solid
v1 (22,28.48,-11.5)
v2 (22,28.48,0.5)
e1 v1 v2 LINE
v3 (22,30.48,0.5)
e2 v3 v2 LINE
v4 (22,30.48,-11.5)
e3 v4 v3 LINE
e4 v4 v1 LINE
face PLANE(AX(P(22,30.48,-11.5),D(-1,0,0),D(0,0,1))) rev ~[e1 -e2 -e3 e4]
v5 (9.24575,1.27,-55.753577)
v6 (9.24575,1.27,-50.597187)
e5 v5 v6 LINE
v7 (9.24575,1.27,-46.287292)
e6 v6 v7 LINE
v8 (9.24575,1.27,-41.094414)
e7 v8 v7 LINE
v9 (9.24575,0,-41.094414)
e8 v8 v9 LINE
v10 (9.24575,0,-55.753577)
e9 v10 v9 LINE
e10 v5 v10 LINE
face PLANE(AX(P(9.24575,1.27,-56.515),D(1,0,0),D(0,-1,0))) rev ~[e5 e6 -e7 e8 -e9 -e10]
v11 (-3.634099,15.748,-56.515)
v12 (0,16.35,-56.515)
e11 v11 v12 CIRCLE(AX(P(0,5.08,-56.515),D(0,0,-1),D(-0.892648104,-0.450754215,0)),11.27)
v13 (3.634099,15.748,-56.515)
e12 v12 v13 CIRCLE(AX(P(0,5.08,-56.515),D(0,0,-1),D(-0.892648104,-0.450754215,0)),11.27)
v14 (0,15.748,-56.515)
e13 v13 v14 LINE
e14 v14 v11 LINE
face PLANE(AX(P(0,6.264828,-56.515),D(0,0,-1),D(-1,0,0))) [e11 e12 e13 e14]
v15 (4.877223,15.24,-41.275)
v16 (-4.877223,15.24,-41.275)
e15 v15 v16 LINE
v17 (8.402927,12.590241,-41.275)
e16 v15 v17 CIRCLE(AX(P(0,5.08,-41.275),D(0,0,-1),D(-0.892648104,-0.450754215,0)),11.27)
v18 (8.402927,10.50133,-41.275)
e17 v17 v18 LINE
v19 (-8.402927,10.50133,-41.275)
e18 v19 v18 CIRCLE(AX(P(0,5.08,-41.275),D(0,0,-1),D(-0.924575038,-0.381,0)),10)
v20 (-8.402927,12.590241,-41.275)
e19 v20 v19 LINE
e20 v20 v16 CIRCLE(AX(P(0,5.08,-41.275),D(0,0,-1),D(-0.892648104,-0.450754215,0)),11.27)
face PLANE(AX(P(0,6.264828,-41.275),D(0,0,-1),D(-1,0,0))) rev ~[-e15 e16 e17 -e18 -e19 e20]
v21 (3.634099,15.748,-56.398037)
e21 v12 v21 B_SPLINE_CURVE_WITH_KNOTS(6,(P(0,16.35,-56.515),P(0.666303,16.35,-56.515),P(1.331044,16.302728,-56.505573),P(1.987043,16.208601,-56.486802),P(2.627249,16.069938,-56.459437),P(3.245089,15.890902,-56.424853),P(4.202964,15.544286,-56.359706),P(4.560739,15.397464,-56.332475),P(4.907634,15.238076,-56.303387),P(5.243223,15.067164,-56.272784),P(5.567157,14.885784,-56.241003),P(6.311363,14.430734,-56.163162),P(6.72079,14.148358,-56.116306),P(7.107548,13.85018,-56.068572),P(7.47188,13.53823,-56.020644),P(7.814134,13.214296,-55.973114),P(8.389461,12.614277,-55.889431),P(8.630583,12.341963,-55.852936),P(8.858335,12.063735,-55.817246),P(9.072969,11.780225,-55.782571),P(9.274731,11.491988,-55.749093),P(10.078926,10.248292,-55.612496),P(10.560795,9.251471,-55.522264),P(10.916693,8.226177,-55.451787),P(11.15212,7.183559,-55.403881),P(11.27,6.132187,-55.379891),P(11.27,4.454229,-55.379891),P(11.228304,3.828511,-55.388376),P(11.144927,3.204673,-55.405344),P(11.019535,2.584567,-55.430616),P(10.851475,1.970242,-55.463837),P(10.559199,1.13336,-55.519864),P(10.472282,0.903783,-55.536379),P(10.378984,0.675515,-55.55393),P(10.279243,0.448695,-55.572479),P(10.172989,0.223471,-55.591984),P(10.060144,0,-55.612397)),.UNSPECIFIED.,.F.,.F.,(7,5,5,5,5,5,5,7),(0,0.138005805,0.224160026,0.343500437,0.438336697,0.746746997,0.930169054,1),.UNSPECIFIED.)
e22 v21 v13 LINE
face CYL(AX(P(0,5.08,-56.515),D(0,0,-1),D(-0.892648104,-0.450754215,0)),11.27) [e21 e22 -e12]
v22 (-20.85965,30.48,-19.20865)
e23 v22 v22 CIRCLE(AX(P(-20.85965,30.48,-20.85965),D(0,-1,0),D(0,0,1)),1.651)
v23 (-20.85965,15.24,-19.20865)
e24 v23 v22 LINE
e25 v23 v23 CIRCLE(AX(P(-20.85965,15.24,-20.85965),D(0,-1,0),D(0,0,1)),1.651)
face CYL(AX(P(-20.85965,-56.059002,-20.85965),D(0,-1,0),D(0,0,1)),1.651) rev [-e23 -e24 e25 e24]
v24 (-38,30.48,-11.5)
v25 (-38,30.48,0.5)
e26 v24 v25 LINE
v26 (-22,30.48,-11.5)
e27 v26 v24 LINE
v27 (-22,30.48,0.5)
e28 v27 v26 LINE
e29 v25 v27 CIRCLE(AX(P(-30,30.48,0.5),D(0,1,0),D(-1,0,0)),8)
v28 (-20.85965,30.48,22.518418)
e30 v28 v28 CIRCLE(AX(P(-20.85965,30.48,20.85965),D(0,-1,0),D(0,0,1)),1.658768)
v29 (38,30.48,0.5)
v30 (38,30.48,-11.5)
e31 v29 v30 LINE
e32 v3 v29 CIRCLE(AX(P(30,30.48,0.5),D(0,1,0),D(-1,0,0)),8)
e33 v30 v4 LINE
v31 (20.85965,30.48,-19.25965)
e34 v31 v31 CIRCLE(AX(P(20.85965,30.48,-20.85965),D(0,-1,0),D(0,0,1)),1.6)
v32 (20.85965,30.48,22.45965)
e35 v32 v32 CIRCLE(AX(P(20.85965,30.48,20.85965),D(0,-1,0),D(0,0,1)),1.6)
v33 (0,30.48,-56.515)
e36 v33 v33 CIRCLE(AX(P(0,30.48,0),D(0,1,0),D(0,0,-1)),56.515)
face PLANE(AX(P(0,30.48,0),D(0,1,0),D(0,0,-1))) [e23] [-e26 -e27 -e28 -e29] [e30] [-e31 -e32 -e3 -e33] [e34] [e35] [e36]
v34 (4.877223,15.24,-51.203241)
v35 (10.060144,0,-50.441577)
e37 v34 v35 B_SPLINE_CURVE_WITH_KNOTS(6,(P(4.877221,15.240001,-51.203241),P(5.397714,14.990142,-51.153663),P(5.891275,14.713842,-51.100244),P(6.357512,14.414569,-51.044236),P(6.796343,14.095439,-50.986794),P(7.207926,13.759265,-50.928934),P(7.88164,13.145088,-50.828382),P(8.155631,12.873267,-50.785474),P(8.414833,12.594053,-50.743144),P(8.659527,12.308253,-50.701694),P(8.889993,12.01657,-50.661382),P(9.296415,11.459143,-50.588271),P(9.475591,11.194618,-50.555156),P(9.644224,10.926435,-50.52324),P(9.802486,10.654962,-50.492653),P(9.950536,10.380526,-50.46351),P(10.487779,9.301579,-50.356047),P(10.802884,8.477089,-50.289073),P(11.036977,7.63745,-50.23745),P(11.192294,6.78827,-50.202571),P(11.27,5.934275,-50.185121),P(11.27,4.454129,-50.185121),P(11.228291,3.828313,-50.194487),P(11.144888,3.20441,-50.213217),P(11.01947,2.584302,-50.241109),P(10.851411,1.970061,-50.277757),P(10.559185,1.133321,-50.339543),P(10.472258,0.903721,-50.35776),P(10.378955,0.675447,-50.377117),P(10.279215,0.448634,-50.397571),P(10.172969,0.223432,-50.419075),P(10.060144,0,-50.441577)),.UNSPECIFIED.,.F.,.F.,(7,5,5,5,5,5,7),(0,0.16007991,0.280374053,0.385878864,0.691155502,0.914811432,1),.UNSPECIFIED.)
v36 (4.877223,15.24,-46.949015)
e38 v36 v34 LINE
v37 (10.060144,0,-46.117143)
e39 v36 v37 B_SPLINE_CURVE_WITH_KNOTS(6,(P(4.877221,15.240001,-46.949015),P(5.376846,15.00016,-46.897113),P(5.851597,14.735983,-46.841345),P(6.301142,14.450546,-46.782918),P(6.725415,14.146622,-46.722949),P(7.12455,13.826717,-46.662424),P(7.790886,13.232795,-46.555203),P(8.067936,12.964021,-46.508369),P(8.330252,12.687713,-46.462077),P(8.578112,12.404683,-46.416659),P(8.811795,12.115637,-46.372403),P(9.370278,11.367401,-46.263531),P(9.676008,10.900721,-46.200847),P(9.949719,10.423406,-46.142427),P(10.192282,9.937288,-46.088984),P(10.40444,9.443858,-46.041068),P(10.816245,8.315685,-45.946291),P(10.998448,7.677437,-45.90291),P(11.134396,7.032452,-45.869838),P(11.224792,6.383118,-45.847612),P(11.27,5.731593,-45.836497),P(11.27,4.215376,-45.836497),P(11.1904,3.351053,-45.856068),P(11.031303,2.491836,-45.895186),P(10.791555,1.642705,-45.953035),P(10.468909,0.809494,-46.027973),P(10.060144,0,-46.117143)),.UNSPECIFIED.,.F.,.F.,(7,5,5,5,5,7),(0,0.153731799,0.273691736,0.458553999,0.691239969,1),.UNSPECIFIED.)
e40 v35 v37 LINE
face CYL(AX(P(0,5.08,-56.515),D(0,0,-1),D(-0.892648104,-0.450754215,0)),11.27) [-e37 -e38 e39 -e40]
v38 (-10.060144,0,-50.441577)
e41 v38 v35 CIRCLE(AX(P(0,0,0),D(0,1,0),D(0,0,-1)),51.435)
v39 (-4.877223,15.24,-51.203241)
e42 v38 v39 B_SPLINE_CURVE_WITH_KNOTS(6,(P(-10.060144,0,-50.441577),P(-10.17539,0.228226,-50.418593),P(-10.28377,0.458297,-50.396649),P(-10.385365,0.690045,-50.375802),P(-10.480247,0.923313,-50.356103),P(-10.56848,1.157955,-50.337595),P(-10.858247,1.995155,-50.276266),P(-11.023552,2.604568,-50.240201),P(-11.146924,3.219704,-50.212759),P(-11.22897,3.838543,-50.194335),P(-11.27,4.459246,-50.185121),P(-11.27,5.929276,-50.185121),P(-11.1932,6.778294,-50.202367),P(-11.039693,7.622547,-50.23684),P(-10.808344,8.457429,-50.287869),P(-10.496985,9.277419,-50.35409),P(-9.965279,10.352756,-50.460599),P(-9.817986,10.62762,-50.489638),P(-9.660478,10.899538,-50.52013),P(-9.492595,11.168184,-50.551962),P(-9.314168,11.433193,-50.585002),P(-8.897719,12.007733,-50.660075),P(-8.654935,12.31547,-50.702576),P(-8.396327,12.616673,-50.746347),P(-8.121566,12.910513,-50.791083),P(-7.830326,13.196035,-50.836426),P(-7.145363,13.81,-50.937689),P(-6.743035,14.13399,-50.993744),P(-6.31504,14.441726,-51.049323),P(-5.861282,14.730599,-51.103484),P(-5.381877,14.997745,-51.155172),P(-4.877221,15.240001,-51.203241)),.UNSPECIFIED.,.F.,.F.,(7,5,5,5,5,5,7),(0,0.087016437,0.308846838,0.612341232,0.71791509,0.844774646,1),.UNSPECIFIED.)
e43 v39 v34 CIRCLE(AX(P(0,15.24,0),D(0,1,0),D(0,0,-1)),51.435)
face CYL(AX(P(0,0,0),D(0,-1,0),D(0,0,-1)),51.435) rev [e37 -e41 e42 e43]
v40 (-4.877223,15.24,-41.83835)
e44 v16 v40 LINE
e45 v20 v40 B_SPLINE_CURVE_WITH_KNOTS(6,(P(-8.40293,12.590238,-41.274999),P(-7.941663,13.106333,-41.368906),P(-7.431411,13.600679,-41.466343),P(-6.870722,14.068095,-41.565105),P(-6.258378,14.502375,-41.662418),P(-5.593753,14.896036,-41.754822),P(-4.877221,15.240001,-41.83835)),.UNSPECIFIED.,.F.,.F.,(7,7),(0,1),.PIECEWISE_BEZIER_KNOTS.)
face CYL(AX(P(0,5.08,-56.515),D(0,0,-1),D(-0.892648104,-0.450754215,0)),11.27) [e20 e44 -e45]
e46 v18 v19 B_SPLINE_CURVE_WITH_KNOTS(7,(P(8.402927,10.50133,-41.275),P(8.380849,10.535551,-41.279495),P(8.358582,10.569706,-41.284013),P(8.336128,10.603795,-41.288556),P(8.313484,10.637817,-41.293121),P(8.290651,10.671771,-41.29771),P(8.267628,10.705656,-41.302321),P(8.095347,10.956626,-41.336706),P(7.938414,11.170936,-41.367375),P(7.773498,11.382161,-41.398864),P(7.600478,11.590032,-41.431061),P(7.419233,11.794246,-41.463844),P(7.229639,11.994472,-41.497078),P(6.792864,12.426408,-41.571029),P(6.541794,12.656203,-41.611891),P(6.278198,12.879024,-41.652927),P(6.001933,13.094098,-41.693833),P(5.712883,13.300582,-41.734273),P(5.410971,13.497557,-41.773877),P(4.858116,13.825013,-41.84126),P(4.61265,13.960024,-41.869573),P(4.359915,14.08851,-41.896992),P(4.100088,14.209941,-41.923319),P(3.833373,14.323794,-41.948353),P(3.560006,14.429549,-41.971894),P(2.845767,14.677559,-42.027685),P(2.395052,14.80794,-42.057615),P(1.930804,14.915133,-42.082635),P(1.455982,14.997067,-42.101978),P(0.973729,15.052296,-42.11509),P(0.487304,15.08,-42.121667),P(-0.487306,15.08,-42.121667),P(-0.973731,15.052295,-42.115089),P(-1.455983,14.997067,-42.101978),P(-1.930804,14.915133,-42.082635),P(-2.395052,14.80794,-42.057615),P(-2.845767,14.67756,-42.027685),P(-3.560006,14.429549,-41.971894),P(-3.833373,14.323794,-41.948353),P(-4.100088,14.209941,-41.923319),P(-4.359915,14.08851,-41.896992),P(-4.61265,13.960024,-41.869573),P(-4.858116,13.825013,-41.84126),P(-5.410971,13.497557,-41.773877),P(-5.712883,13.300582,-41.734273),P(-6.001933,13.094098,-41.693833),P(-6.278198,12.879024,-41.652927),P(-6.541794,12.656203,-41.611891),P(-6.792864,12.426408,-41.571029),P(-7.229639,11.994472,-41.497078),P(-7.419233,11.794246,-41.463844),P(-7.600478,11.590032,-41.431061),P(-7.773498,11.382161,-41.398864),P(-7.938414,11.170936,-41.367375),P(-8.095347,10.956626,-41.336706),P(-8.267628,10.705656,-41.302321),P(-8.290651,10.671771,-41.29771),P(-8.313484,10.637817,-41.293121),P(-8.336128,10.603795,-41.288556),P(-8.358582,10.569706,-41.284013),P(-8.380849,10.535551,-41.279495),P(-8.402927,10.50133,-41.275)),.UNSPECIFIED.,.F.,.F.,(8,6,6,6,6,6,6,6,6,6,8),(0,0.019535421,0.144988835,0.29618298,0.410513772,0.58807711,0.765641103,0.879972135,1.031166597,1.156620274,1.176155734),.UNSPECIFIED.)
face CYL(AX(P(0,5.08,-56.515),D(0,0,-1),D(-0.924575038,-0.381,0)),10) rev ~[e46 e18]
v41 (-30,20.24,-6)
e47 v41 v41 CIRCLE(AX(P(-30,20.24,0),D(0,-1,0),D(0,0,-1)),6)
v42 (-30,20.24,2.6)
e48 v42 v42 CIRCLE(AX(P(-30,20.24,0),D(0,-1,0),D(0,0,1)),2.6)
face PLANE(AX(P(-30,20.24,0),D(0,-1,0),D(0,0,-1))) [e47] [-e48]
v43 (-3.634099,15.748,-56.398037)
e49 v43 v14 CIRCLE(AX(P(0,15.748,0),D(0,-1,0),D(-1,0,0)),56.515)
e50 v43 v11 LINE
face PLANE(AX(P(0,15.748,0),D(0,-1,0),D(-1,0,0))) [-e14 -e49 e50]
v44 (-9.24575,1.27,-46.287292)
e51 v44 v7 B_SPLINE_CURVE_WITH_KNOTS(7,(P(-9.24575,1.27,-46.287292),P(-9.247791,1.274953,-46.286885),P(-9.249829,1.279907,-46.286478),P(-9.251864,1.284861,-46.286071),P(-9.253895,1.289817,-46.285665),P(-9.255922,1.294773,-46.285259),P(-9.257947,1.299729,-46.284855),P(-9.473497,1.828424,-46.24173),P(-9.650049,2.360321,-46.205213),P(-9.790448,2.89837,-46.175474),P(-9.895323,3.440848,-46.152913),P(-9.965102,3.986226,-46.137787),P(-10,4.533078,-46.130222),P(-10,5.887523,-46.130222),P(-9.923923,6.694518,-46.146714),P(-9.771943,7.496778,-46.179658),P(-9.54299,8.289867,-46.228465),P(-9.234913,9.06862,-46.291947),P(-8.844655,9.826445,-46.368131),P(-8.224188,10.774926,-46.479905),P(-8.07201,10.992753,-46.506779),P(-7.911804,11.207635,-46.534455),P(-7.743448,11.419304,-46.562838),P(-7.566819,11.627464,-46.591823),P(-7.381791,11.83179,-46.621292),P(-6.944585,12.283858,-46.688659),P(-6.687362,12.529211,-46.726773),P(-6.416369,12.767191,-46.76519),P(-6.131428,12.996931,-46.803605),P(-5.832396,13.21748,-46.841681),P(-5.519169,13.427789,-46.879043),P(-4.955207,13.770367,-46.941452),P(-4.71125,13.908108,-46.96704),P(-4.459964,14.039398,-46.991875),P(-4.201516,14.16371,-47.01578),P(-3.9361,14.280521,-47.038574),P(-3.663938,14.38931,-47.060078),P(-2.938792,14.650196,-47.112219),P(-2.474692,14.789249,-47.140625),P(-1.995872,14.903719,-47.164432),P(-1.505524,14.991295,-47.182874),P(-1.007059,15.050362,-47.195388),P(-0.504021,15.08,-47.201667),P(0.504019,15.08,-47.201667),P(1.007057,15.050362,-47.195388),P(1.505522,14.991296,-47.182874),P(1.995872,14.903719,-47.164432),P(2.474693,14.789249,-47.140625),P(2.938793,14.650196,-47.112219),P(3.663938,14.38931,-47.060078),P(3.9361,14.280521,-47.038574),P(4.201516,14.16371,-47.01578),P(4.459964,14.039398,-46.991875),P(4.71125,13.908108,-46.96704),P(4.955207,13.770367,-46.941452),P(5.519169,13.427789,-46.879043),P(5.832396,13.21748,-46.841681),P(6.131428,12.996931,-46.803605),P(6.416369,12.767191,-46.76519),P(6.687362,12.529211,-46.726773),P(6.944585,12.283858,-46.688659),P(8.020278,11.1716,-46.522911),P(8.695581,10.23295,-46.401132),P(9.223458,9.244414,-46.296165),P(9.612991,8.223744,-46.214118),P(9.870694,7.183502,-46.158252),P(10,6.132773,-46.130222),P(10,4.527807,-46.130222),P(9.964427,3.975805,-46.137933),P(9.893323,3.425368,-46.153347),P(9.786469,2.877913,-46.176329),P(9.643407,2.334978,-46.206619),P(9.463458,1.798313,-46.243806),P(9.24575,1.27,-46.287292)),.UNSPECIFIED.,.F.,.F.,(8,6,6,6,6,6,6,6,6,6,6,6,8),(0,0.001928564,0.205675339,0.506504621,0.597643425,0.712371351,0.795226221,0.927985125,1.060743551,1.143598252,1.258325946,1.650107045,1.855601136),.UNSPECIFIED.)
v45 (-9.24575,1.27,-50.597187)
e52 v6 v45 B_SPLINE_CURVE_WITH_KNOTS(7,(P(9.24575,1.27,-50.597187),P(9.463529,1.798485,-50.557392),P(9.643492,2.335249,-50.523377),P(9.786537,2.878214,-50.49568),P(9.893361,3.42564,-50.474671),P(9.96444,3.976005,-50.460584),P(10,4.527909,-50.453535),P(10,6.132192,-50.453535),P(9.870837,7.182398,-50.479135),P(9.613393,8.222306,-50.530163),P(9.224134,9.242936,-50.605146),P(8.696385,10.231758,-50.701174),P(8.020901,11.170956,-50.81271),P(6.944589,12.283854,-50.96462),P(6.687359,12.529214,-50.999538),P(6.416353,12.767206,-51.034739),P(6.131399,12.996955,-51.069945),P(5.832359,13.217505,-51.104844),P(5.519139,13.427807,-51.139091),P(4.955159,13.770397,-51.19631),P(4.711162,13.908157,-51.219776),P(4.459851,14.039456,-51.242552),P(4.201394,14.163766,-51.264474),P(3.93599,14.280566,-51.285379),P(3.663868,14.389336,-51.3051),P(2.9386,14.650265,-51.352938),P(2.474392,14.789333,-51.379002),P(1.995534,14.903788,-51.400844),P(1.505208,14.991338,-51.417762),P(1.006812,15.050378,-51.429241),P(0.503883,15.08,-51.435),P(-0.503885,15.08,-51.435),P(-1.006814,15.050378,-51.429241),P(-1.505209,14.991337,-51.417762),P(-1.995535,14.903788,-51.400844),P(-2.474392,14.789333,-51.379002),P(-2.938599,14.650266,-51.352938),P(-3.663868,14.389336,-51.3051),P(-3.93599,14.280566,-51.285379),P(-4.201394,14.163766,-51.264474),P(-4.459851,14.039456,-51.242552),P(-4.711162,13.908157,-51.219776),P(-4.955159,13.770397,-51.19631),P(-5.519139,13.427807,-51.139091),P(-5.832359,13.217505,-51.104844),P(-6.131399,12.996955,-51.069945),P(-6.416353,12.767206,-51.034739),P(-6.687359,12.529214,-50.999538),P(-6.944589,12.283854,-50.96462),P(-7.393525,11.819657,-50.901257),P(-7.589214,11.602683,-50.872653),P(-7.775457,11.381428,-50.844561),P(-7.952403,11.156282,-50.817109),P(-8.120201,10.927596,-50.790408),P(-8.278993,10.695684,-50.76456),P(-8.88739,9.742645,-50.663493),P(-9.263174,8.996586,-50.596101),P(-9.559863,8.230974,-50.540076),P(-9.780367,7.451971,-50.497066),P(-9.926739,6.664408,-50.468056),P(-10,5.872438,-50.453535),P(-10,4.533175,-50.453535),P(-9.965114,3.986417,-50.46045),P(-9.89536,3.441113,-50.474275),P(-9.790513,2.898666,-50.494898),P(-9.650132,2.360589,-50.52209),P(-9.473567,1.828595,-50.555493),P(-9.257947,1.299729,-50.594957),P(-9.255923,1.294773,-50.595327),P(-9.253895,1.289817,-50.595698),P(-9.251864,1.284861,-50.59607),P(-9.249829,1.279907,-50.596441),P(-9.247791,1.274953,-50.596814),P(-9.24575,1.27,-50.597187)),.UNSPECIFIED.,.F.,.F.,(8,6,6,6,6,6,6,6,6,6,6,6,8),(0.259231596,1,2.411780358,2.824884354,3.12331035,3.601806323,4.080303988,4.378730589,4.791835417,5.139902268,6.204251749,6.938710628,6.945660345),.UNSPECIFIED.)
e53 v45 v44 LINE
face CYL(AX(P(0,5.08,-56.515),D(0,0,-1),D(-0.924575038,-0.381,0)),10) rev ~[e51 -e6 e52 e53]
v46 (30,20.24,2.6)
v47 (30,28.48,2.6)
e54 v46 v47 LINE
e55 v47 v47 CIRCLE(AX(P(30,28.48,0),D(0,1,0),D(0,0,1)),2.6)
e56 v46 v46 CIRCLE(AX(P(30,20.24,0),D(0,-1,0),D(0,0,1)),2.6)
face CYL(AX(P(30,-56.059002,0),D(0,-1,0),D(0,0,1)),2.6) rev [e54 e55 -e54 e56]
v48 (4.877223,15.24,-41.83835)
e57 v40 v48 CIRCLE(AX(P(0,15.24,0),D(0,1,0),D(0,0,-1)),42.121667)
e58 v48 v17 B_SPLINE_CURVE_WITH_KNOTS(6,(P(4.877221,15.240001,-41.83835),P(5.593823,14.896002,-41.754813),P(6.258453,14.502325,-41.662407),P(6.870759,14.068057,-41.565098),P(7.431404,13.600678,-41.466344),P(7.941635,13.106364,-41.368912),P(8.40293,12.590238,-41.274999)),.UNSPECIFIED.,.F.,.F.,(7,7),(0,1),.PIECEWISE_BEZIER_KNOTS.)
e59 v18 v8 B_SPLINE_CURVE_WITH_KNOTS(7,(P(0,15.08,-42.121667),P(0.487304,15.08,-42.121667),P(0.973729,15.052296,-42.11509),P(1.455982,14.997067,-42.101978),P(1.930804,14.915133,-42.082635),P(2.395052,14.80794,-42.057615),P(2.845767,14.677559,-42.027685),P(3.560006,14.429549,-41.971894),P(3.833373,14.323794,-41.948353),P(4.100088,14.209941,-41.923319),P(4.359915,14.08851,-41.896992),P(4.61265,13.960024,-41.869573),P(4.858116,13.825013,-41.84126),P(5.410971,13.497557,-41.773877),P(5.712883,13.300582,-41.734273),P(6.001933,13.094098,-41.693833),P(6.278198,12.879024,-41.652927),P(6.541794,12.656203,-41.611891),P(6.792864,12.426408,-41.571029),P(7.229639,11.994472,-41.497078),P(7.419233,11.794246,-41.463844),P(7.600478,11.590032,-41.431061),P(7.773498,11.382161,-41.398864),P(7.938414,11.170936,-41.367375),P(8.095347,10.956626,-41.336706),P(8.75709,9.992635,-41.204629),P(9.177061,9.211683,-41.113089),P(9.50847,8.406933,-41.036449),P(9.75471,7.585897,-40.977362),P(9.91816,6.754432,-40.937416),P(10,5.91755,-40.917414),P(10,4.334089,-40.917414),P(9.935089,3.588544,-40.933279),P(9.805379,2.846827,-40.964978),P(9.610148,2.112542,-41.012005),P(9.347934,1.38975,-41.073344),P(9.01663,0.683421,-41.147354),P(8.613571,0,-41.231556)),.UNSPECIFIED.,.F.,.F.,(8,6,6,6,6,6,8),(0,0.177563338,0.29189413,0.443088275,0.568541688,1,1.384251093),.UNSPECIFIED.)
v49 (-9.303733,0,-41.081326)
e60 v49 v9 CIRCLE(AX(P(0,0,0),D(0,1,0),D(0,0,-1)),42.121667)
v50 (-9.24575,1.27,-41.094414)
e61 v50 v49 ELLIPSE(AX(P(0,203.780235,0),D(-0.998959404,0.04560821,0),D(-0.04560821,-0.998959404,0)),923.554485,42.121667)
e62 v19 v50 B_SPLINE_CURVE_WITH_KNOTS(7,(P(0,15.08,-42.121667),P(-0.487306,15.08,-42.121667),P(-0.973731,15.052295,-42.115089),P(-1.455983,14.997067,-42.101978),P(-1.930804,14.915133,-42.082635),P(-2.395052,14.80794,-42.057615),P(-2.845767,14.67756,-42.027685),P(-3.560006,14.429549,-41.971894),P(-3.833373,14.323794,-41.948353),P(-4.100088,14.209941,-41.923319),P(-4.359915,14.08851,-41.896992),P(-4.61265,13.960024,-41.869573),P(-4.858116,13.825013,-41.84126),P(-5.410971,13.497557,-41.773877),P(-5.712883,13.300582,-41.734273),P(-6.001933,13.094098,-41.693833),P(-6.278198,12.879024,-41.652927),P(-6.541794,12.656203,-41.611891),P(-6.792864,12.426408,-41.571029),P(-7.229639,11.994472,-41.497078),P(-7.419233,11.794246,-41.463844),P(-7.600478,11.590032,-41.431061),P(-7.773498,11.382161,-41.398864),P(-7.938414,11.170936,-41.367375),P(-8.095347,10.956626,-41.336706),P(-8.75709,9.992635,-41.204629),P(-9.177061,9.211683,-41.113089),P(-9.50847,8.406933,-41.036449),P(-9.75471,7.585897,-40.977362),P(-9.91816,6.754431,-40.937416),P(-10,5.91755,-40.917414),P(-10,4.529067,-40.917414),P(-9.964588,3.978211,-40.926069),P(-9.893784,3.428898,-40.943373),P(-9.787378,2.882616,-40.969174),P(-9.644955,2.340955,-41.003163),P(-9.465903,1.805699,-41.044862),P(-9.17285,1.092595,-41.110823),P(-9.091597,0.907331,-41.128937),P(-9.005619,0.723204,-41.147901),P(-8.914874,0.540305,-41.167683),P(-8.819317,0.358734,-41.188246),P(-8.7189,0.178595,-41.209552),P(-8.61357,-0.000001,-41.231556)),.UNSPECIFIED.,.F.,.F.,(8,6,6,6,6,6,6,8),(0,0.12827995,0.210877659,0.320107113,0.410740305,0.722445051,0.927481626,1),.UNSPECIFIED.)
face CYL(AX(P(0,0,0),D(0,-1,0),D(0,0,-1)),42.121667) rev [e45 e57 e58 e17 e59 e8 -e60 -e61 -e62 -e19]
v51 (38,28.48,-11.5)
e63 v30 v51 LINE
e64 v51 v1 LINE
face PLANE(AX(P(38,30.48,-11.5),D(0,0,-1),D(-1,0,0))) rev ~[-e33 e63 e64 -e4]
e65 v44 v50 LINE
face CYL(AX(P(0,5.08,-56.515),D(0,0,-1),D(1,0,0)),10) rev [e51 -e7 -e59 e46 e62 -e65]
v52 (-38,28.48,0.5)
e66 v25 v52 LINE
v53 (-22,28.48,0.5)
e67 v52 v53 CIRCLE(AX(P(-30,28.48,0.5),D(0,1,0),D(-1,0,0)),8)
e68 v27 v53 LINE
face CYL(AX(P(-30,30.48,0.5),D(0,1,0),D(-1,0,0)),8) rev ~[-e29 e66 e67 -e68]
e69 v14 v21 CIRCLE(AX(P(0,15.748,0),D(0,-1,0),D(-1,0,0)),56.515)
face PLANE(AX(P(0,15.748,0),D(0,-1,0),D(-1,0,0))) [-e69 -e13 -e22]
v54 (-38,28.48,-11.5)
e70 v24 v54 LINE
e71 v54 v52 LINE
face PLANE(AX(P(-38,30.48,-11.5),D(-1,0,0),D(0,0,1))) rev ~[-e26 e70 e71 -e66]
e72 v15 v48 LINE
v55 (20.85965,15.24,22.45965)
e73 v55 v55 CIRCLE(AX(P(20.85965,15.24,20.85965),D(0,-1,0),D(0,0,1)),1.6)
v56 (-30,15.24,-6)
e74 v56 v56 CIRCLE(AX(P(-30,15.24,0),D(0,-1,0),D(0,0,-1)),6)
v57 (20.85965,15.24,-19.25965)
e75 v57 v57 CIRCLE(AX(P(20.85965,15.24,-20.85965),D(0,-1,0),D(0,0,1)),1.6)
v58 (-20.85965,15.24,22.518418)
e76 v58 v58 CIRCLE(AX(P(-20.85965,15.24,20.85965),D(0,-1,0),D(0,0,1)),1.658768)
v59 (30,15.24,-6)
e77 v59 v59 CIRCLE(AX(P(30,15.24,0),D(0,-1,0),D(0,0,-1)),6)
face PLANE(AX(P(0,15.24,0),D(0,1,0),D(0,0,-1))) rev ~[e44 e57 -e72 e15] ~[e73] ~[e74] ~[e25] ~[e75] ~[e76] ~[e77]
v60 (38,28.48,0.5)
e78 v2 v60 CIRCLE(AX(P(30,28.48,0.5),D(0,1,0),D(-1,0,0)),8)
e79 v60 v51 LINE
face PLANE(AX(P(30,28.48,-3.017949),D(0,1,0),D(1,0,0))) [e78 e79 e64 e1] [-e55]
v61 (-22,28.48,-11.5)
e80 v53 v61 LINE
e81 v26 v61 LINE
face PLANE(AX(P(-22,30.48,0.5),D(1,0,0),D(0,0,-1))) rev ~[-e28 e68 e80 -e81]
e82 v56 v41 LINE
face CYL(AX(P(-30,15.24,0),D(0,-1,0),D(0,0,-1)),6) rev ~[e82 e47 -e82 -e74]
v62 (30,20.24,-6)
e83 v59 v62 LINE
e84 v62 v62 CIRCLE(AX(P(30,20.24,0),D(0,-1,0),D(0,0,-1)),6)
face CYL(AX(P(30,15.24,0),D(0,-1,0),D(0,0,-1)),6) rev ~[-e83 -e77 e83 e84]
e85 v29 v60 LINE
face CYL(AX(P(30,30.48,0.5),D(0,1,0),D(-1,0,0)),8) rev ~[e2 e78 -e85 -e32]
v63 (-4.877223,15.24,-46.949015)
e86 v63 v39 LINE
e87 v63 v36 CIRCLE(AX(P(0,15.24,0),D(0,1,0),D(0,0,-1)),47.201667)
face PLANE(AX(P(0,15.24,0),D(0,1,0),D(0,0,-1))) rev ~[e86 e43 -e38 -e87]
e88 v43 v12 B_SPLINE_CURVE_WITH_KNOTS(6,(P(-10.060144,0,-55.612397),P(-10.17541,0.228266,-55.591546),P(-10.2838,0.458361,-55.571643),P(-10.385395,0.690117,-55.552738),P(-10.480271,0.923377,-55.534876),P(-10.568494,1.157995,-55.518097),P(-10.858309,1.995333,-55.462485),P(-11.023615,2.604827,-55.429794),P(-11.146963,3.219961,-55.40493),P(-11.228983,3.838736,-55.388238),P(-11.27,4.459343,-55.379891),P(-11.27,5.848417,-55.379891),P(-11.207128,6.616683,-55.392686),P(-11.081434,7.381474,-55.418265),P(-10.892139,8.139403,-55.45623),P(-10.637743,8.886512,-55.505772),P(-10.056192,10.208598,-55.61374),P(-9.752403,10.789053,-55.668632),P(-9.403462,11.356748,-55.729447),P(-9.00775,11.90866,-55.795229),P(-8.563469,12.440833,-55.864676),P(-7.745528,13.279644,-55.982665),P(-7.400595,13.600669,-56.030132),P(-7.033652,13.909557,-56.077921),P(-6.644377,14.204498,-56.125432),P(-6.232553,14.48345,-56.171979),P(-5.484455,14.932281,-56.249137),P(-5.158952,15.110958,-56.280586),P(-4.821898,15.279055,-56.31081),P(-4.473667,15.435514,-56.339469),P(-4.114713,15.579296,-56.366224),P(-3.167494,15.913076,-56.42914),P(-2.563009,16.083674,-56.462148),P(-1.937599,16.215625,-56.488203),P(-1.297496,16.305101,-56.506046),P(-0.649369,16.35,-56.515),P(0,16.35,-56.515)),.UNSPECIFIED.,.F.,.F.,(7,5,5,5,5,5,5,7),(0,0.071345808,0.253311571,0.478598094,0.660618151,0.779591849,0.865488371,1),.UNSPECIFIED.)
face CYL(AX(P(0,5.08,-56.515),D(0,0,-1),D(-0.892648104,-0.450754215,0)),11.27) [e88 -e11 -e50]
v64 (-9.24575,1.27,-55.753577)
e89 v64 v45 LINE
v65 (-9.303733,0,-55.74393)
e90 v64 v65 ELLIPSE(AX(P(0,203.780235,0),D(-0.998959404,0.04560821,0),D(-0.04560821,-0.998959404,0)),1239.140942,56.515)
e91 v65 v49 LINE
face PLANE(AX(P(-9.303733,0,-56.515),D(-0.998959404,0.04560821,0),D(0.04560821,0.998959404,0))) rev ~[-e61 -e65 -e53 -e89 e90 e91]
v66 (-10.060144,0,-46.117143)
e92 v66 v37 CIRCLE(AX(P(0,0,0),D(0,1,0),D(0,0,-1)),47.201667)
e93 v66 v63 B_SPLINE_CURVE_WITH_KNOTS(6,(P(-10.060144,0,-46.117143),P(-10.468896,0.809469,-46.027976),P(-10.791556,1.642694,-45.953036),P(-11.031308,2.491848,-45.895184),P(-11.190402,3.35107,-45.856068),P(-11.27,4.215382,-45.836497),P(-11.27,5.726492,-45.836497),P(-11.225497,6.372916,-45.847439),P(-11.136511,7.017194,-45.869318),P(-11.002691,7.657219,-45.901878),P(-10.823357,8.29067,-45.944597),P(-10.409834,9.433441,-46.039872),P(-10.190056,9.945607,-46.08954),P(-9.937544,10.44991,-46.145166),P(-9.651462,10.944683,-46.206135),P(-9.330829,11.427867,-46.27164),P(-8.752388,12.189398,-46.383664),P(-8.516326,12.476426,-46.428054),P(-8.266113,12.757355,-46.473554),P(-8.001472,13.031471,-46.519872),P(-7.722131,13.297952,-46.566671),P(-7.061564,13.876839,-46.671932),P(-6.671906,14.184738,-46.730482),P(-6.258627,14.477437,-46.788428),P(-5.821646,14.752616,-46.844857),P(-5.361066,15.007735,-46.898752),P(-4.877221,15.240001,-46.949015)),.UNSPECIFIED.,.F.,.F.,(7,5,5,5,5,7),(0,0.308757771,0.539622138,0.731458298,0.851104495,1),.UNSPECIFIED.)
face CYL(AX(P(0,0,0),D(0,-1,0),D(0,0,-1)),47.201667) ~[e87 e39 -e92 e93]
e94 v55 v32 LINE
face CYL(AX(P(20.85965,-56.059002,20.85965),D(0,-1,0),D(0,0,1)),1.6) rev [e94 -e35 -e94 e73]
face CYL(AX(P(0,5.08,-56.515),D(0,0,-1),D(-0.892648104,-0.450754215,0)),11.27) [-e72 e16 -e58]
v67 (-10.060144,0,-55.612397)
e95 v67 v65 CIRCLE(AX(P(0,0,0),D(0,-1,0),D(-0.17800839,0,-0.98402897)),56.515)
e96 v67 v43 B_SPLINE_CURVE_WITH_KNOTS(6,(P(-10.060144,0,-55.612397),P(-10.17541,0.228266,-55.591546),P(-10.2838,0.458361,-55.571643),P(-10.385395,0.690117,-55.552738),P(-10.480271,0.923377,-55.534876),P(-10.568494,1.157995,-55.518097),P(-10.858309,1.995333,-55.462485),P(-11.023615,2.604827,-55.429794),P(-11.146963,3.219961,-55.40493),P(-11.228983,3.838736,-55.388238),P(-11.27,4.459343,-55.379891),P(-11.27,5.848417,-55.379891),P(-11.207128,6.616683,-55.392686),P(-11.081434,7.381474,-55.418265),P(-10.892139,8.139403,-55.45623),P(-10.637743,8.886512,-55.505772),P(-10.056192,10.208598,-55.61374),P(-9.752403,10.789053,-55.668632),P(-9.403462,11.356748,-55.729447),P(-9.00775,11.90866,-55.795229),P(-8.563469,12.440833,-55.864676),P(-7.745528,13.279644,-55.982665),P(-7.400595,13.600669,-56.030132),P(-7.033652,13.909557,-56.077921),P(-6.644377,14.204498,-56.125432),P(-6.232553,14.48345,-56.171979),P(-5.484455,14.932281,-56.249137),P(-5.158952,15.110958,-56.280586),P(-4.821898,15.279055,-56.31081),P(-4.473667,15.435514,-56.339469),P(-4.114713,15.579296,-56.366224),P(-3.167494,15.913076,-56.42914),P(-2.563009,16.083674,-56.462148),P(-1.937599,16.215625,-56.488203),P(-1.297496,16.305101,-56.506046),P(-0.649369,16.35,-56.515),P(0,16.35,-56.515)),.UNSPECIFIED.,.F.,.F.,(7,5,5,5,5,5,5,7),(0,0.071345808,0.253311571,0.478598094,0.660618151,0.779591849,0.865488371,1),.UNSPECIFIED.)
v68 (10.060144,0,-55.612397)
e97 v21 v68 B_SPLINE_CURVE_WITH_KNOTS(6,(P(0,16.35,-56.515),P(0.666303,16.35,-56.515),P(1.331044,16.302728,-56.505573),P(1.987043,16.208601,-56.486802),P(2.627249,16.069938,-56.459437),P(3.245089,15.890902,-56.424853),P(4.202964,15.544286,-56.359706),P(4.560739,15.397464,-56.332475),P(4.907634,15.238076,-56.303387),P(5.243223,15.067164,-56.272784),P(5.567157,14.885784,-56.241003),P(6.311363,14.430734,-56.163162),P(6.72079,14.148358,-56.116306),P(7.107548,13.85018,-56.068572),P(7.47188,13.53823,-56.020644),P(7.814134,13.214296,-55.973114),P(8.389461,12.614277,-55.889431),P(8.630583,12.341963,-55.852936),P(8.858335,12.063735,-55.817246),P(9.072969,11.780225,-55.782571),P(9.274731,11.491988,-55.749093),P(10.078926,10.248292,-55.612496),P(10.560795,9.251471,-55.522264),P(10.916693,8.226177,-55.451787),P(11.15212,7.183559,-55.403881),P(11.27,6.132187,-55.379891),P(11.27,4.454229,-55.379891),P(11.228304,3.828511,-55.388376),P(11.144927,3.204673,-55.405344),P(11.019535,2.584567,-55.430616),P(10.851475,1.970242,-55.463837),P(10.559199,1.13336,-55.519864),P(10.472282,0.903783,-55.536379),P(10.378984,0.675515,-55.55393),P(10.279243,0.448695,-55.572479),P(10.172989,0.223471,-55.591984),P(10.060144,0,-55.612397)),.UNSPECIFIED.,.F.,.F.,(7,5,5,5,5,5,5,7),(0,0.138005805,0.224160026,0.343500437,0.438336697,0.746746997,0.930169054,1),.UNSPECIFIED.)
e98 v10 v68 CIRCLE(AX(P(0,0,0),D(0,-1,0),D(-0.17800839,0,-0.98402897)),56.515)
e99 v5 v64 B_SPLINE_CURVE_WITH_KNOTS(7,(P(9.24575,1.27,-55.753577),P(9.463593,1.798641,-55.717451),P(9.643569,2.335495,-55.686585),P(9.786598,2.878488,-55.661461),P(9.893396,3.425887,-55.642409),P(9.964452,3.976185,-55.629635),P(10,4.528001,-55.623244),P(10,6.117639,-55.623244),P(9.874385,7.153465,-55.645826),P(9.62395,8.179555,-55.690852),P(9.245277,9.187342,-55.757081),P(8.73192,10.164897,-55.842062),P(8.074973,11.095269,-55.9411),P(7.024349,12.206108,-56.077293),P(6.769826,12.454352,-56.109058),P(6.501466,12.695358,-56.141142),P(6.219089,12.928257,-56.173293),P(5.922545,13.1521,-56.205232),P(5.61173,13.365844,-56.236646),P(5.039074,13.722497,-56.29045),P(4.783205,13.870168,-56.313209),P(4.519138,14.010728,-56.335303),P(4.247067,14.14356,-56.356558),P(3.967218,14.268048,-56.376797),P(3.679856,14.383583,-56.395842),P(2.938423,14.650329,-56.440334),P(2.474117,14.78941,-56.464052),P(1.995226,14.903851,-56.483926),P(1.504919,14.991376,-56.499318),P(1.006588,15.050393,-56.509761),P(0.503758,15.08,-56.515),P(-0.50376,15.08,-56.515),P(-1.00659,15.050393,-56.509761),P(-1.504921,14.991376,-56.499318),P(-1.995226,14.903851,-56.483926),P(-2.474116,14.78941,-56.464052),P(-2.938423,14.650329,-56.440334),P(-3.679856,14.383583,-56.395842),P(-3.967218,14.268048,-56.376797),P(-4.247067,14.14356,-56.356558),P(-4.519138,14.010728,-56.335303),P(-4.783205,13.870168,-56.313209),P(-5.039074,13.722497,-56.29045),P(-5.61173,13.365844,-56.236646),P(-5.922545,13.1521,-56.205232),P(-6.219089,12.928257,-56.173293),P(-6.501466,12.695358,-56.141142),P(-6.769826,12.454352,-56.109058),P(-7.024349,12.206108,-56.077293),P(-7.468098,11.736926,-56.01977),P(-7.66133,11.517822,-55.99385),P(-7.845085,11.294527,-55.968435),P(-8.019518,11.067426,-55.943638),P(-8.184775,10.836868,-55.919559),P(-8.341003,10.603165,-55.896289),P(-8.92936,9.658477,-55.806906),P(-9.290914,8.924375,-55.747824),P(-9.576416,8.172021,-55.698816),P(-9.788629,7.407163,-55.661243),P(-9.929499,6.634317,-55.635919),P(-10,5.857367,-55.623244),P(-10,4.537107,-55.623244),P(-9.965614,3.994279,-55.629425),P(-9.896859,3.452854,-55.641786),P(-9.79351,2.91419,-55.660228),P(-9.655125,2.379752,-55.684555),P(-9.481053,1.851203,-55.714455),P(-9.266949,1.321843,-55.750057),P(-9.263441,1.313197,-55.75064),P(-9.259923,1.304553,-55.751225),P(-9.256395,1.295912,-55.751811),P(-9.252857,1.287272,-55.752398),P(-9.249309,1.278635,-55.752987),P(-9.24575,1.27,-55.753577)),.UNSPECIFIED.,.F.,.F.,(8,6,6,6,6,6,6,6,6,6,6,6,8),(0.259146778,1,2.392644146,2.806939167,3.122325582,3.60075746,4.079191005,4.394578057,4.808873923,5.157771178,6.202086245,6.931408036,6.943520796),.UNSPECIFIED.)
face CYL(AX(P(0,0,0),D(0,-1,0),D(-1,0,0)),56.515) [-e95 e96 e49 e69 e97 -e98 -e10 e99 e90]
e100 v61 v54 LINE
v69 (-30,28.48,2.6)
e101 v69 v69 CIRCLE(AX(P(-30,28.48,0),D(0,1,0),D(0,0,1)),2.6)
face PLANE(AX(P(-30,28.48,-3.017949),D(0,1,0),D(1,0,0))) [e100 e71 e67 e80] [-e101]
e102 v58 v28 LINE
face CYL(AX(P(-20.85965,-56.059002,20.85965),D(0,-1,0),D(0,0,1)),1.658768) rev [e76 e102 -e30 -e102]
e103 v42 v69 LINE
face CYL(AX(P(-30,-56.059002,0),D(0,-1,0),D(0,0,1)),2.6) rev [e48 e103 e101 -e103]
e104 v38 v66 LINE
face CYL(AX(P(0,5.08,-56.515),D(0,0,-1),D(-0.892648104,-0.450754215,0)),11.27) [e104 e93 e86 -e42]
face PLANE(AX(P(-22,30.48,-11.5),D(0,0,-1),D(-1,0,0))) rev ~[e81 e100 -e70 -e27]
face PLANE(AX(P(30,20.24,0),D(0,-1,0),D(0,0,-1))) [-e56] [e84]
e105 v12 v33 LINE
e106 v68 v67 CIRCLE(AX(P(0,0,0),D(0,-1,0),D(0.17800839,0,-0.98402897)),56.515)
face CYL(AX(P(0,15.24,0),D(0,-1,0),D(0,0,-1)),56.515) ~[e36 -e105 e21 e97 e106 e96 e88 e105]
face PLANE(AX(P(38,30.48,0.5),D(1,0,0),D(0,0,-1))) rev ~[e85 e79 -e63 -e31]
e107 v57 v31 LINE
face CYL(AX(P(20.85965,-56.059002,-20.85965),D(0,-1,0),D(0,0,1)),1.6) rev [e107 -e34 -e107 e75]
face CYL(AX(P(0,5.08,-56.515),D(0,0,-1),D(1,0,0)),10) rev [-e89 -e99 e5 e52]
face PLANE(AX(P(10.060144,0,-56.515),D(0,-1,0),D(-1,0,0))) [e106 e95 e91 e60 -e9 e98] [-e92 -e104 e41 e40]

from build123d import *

# Parameters (mm, degrees)
SKETCH2_R                = 56.515
SKETCH2_R_2              = 51.435
BOSS_EXTRUDE1_DEPTH      = 15.24
SKETCH2_R_3              = 47.201666667
SKETCH2_R_4              = 42.121666667
BOSS_EXTRUDE1_2_DEPTH    = 15.24
SKETCH3_R                = 56.515
BOSS_EXTRUDE2_DEPTH      = 15.24
CUT_EXTRUDE1_DEPTH       = 86.539001923
CUT_EXTRUDE1_DEPTH_BACK  = 86.539001923
SKETCH4_R                = 1.6
SKETCH4_R_2              = 1.65876763
SKETCH4_R_3              = 1.651
SKETCH14_R               = 10
CUT_EXTRUDE7_DEPTH       = 19.558
SKETCH16_W               = 1.27
SKETCH16_H               = 1.27
EXTRUDE_THIN1_DEPTH      = 15.24
SKETCH20_R               = 66.675
SKETCH20_R_2             = 56.515
CUT_EXTRUDE_THIN3_DEPTH  = 15.748
CUT_EXTRUDE12_DEPTH      = 15.748
SKETCH32_R               = 2.6
CUT_EXTRUDE18_DEPTH      = 2
CUT_EXTRUDE19_DEPTH      = 86.539002091
CUT_EXTRUDE19_DEPTH_BACK = 86.539002091
SKETCH33_R               = 2.6
SKETCH34_R               = 6
CUT_EXTRUDE20_DEPTH      = 5


with BuildPart() as part:
    # Sketch2 → Boss-Extrude1 (new body)
    with BuildSketch(Plane(origin=(0, 0, 0), x_dir=(1, 0, 0), z_dir=(0, 1, 0))):
        with Locations(Location((0, 0, 0), (0, 0, 90))):
            Circle(SKETCH2_R)
        with Locations(Location((0, 0, 0), (0, 0, 90))):
            Circle(SKETCH2_R_2, mode=Mode.SUBTRACT)
    extrude(amount=BOSS_EXTRUDE1_DEPTH)



with BuildPart() as body_2:
    # Sketch2 → Boss-Extrude1 2 (new body)
    with BuildSketch(Plane(origin=(0, 0, 0), x_dir=(1, 0, 0), z_dir=(0, 1, 0))):
        with Locations(Location((0, 0, 0), (0, 0, 90))):
            Circle(SKETCH2_R_3)
        with Locations(Location((0, 0, 0), (0, 0, 90))):
            Circle(SKETCH2_R_4, mode=Mode.SUBTRACT)
    extrude(amount=BOSS_EXTRUDE1_2_DEPTH)


with BuildPart() as part_1:
    add(part.part)

    add(body_2.part)  # Boss-Extrude2 merges body 2
    # Sketch3 → Boss-Extrude2 (add)
    with BuildSketch(Plane(origin=(0, 15.24, 0), x_dir=(1, 0, 0), z_dir=(0, 1, 0))):
        with Locations(Location((0, 0, 0), (0, 0, 90))):
            Circle(SKETCH3_R)
    extrude(amount=BOSS_EXTRUDE2_DEPTH)

    # Sketch4 → Cut-Extrude1 (cut, two sides: drawn at the far end of the back side and taken through both)
    with BuildSketch(Plane(origin=(0, 30.48, 0), x_dir=(1, 0, 0), z_dir=(0, 1, 0)).offset(-CUT_EXTRUDE1_DEPTH_BACK)):
        with Locations(Location((20.859650045, 20.859650045, 0), (0, 0, 270))):
            Circle(SKETCH4_R)
        with Locations(Location((20.859650045, -20.859650045, 0), (0, 0, 270))):
            Circle(SKETCH4_R)
        with Locations(Location((-20.859650045, -20.859650045, 0), (0, 0, 270))):
            Circle(SKETCH4_R_2)
        with Locations(Location((-20.859650045, 20.859650045, 0), (0, 0, 270))):
            Circle(SKETCH4_R_3)
    extrude(amount=CUT_EXTRUDE1_DEPTH + CUT_EXTRUDE1_DEPTH_BACK, mode=Mode.SUBTRACT)

    # Sketch14 → Cut-Extrude7 (cut)
    with BuildSketch(Plane.XY.offset(-56.515)):
        with Locations((0, 5.08)):
            Circle(SKETCH14_R)
    extrude(amount=CUT_EXTRUDE7_DEPTH, mode=Mode.SUBTRACT)

    # Sketch16 → Extrude-Thin1 (add)
    # profile 1 of 2: a face of its own
    with BuildSketch(Plane.XY.offset(-56.515)):
        with Locations((-0.635, 0.635)):
            Rectangle(SKETCH16_W, SKETCH16_H)
    # profile 2 of 2: a face of its own
    with BuildSketch(Plane.XY.offset(-56.515)):
        with BuildLine():
            Line((10.060144134, 0), (-10.060144134, 0))
            ThreePointArc((-10.060144134, 0), (0, 16.35), (10.060144134, 0))
        make_face()
        with BuildLine():
            Line((9.245750375, 1.27), (-9.245750375, 1.27))
            ThreePointArc((-9.245750375, 1.27), (0, 15.08), (9.245750375, 1.27))
        make_face(mode=Mode.SUBTRACT)
    extrude(amount=EXTRUDE_THIN1_DEPTH)

    # Sketch20 → Cut-Extrude-Thin3 (cut)
    with BuildSketch(Plane(origin=(0, 0, 0), x_dir=(-1, 0, 0), z_dir=(0, -1, 0))):
        Circle(SKETCH20_R)
        Circle(SKETCH20_R_2, mode=Mode.SUBTRACT)
    extrude(amount=-CUT_EXTRUDE_THIN3_DEPTH, mode=Mode.SUBTRACT)

    # Sketch21 → Cut-Extrude12 (cut)
    with BuildSketch(Plane.XY.offset(-56.515)):
        Polygon((-9.303733138, 0), (-9.245750375, 1.27), (9.245750375, 1.27), (9.245750375, 0), align=None)
    extrude(amount=CUT_EXTRUDE12_DEPTH, mode=Mode.SUBTRACT)

    # Sketch32 → Cut-Extrude18 (cut)
    # profile 1 of 2: a face of its own
    with BuildSketch(Plane(origin=(0, 30.48, 0), x_dir=(1, 0, 0), z_dir=(0, 1, 0))):
        with BuildLine():
            Line((-22, 11.5), (-38, 11.5))
            Line((-38, 11.5), (-38, -0.5))
            ThreePointArc((-38, -0.5), (-30, -8.5), (-22, -0.5))
            Line((-22, -0.5), (-22, 11.5))
        make_face()
        with Locations(Location((-30, 0, 0), (0, 0, 270))):
            Circle(SKETCH32_R, mode=Mode.SUBTRACT)
    # profile 2 of 2: a face of its own
    with BuildSketch(Plane(origin=(0, 30.48, 0), x_dir=(1, 0, 0), z_dir=(0, 1, 0))):
        with BuildLine():
            Line((38, -0.5), (38, 11.5))
            Line((38, 11.5), (22, 11.5))
            Line((22, 11.5), (22, -0.5))
            ThreePointArc((22, -0.5), (30, -8.5), (38, -0.5))
        make_face()
        with Locations(Location((30, 0, 0), (0, 0, 90))):
            Circle(SKETCH32_R, mode=Mode.SUBTRACT)
    extrude(amount=-CUT_EXTRUDE18_DEPTH, mode=Mode.SUBTRACT)

    # Sketch33 → Cut-Extrude19 (cut, two sides: drawn at the far end of the back side and taken through both)
    with BuildSketch(Plane(origin=(0, 30.48, 0), x_dir=(1, 0, 0), z_dir=(0, 1, 0)).offset(-CUT_EXTRUDE19_DEPTH_BACK)):
        with Locations(Location((-30, 0, 0), (0, 0, 270))):
            Circle(SKETCH33_R)
        with Locations(Location((30, 0, 0), (0, 0, 270))):
            Circle(SKETCH33_R)
    extrude(amount=CUT_EXTRUDE19_DEPTH + CUT_EXTRUDE19_DEPTH_BACK, mode=Mode.SUBTRACT)

    # Sketch34 → Cut-Extrude20 (cut)
    with BuildSketch(Plane(origin=(0, 15.24, 0), x_dir=(-1, 0, 0), z_dir=(0, -1, 0))):
        with Locations(Location((30, 0, 0), (0, 0, 90))):
            Circle(SKETCH34_R)
        with Locations(Location((-30, 0, 0), (0, 0, 90))):
            Circle(SKETCH34_R)
    extrude(amount=-CUT_EXTRUDE20_DEPTH, mode=Mode.SUBTRACT)


solid = part_1.part
